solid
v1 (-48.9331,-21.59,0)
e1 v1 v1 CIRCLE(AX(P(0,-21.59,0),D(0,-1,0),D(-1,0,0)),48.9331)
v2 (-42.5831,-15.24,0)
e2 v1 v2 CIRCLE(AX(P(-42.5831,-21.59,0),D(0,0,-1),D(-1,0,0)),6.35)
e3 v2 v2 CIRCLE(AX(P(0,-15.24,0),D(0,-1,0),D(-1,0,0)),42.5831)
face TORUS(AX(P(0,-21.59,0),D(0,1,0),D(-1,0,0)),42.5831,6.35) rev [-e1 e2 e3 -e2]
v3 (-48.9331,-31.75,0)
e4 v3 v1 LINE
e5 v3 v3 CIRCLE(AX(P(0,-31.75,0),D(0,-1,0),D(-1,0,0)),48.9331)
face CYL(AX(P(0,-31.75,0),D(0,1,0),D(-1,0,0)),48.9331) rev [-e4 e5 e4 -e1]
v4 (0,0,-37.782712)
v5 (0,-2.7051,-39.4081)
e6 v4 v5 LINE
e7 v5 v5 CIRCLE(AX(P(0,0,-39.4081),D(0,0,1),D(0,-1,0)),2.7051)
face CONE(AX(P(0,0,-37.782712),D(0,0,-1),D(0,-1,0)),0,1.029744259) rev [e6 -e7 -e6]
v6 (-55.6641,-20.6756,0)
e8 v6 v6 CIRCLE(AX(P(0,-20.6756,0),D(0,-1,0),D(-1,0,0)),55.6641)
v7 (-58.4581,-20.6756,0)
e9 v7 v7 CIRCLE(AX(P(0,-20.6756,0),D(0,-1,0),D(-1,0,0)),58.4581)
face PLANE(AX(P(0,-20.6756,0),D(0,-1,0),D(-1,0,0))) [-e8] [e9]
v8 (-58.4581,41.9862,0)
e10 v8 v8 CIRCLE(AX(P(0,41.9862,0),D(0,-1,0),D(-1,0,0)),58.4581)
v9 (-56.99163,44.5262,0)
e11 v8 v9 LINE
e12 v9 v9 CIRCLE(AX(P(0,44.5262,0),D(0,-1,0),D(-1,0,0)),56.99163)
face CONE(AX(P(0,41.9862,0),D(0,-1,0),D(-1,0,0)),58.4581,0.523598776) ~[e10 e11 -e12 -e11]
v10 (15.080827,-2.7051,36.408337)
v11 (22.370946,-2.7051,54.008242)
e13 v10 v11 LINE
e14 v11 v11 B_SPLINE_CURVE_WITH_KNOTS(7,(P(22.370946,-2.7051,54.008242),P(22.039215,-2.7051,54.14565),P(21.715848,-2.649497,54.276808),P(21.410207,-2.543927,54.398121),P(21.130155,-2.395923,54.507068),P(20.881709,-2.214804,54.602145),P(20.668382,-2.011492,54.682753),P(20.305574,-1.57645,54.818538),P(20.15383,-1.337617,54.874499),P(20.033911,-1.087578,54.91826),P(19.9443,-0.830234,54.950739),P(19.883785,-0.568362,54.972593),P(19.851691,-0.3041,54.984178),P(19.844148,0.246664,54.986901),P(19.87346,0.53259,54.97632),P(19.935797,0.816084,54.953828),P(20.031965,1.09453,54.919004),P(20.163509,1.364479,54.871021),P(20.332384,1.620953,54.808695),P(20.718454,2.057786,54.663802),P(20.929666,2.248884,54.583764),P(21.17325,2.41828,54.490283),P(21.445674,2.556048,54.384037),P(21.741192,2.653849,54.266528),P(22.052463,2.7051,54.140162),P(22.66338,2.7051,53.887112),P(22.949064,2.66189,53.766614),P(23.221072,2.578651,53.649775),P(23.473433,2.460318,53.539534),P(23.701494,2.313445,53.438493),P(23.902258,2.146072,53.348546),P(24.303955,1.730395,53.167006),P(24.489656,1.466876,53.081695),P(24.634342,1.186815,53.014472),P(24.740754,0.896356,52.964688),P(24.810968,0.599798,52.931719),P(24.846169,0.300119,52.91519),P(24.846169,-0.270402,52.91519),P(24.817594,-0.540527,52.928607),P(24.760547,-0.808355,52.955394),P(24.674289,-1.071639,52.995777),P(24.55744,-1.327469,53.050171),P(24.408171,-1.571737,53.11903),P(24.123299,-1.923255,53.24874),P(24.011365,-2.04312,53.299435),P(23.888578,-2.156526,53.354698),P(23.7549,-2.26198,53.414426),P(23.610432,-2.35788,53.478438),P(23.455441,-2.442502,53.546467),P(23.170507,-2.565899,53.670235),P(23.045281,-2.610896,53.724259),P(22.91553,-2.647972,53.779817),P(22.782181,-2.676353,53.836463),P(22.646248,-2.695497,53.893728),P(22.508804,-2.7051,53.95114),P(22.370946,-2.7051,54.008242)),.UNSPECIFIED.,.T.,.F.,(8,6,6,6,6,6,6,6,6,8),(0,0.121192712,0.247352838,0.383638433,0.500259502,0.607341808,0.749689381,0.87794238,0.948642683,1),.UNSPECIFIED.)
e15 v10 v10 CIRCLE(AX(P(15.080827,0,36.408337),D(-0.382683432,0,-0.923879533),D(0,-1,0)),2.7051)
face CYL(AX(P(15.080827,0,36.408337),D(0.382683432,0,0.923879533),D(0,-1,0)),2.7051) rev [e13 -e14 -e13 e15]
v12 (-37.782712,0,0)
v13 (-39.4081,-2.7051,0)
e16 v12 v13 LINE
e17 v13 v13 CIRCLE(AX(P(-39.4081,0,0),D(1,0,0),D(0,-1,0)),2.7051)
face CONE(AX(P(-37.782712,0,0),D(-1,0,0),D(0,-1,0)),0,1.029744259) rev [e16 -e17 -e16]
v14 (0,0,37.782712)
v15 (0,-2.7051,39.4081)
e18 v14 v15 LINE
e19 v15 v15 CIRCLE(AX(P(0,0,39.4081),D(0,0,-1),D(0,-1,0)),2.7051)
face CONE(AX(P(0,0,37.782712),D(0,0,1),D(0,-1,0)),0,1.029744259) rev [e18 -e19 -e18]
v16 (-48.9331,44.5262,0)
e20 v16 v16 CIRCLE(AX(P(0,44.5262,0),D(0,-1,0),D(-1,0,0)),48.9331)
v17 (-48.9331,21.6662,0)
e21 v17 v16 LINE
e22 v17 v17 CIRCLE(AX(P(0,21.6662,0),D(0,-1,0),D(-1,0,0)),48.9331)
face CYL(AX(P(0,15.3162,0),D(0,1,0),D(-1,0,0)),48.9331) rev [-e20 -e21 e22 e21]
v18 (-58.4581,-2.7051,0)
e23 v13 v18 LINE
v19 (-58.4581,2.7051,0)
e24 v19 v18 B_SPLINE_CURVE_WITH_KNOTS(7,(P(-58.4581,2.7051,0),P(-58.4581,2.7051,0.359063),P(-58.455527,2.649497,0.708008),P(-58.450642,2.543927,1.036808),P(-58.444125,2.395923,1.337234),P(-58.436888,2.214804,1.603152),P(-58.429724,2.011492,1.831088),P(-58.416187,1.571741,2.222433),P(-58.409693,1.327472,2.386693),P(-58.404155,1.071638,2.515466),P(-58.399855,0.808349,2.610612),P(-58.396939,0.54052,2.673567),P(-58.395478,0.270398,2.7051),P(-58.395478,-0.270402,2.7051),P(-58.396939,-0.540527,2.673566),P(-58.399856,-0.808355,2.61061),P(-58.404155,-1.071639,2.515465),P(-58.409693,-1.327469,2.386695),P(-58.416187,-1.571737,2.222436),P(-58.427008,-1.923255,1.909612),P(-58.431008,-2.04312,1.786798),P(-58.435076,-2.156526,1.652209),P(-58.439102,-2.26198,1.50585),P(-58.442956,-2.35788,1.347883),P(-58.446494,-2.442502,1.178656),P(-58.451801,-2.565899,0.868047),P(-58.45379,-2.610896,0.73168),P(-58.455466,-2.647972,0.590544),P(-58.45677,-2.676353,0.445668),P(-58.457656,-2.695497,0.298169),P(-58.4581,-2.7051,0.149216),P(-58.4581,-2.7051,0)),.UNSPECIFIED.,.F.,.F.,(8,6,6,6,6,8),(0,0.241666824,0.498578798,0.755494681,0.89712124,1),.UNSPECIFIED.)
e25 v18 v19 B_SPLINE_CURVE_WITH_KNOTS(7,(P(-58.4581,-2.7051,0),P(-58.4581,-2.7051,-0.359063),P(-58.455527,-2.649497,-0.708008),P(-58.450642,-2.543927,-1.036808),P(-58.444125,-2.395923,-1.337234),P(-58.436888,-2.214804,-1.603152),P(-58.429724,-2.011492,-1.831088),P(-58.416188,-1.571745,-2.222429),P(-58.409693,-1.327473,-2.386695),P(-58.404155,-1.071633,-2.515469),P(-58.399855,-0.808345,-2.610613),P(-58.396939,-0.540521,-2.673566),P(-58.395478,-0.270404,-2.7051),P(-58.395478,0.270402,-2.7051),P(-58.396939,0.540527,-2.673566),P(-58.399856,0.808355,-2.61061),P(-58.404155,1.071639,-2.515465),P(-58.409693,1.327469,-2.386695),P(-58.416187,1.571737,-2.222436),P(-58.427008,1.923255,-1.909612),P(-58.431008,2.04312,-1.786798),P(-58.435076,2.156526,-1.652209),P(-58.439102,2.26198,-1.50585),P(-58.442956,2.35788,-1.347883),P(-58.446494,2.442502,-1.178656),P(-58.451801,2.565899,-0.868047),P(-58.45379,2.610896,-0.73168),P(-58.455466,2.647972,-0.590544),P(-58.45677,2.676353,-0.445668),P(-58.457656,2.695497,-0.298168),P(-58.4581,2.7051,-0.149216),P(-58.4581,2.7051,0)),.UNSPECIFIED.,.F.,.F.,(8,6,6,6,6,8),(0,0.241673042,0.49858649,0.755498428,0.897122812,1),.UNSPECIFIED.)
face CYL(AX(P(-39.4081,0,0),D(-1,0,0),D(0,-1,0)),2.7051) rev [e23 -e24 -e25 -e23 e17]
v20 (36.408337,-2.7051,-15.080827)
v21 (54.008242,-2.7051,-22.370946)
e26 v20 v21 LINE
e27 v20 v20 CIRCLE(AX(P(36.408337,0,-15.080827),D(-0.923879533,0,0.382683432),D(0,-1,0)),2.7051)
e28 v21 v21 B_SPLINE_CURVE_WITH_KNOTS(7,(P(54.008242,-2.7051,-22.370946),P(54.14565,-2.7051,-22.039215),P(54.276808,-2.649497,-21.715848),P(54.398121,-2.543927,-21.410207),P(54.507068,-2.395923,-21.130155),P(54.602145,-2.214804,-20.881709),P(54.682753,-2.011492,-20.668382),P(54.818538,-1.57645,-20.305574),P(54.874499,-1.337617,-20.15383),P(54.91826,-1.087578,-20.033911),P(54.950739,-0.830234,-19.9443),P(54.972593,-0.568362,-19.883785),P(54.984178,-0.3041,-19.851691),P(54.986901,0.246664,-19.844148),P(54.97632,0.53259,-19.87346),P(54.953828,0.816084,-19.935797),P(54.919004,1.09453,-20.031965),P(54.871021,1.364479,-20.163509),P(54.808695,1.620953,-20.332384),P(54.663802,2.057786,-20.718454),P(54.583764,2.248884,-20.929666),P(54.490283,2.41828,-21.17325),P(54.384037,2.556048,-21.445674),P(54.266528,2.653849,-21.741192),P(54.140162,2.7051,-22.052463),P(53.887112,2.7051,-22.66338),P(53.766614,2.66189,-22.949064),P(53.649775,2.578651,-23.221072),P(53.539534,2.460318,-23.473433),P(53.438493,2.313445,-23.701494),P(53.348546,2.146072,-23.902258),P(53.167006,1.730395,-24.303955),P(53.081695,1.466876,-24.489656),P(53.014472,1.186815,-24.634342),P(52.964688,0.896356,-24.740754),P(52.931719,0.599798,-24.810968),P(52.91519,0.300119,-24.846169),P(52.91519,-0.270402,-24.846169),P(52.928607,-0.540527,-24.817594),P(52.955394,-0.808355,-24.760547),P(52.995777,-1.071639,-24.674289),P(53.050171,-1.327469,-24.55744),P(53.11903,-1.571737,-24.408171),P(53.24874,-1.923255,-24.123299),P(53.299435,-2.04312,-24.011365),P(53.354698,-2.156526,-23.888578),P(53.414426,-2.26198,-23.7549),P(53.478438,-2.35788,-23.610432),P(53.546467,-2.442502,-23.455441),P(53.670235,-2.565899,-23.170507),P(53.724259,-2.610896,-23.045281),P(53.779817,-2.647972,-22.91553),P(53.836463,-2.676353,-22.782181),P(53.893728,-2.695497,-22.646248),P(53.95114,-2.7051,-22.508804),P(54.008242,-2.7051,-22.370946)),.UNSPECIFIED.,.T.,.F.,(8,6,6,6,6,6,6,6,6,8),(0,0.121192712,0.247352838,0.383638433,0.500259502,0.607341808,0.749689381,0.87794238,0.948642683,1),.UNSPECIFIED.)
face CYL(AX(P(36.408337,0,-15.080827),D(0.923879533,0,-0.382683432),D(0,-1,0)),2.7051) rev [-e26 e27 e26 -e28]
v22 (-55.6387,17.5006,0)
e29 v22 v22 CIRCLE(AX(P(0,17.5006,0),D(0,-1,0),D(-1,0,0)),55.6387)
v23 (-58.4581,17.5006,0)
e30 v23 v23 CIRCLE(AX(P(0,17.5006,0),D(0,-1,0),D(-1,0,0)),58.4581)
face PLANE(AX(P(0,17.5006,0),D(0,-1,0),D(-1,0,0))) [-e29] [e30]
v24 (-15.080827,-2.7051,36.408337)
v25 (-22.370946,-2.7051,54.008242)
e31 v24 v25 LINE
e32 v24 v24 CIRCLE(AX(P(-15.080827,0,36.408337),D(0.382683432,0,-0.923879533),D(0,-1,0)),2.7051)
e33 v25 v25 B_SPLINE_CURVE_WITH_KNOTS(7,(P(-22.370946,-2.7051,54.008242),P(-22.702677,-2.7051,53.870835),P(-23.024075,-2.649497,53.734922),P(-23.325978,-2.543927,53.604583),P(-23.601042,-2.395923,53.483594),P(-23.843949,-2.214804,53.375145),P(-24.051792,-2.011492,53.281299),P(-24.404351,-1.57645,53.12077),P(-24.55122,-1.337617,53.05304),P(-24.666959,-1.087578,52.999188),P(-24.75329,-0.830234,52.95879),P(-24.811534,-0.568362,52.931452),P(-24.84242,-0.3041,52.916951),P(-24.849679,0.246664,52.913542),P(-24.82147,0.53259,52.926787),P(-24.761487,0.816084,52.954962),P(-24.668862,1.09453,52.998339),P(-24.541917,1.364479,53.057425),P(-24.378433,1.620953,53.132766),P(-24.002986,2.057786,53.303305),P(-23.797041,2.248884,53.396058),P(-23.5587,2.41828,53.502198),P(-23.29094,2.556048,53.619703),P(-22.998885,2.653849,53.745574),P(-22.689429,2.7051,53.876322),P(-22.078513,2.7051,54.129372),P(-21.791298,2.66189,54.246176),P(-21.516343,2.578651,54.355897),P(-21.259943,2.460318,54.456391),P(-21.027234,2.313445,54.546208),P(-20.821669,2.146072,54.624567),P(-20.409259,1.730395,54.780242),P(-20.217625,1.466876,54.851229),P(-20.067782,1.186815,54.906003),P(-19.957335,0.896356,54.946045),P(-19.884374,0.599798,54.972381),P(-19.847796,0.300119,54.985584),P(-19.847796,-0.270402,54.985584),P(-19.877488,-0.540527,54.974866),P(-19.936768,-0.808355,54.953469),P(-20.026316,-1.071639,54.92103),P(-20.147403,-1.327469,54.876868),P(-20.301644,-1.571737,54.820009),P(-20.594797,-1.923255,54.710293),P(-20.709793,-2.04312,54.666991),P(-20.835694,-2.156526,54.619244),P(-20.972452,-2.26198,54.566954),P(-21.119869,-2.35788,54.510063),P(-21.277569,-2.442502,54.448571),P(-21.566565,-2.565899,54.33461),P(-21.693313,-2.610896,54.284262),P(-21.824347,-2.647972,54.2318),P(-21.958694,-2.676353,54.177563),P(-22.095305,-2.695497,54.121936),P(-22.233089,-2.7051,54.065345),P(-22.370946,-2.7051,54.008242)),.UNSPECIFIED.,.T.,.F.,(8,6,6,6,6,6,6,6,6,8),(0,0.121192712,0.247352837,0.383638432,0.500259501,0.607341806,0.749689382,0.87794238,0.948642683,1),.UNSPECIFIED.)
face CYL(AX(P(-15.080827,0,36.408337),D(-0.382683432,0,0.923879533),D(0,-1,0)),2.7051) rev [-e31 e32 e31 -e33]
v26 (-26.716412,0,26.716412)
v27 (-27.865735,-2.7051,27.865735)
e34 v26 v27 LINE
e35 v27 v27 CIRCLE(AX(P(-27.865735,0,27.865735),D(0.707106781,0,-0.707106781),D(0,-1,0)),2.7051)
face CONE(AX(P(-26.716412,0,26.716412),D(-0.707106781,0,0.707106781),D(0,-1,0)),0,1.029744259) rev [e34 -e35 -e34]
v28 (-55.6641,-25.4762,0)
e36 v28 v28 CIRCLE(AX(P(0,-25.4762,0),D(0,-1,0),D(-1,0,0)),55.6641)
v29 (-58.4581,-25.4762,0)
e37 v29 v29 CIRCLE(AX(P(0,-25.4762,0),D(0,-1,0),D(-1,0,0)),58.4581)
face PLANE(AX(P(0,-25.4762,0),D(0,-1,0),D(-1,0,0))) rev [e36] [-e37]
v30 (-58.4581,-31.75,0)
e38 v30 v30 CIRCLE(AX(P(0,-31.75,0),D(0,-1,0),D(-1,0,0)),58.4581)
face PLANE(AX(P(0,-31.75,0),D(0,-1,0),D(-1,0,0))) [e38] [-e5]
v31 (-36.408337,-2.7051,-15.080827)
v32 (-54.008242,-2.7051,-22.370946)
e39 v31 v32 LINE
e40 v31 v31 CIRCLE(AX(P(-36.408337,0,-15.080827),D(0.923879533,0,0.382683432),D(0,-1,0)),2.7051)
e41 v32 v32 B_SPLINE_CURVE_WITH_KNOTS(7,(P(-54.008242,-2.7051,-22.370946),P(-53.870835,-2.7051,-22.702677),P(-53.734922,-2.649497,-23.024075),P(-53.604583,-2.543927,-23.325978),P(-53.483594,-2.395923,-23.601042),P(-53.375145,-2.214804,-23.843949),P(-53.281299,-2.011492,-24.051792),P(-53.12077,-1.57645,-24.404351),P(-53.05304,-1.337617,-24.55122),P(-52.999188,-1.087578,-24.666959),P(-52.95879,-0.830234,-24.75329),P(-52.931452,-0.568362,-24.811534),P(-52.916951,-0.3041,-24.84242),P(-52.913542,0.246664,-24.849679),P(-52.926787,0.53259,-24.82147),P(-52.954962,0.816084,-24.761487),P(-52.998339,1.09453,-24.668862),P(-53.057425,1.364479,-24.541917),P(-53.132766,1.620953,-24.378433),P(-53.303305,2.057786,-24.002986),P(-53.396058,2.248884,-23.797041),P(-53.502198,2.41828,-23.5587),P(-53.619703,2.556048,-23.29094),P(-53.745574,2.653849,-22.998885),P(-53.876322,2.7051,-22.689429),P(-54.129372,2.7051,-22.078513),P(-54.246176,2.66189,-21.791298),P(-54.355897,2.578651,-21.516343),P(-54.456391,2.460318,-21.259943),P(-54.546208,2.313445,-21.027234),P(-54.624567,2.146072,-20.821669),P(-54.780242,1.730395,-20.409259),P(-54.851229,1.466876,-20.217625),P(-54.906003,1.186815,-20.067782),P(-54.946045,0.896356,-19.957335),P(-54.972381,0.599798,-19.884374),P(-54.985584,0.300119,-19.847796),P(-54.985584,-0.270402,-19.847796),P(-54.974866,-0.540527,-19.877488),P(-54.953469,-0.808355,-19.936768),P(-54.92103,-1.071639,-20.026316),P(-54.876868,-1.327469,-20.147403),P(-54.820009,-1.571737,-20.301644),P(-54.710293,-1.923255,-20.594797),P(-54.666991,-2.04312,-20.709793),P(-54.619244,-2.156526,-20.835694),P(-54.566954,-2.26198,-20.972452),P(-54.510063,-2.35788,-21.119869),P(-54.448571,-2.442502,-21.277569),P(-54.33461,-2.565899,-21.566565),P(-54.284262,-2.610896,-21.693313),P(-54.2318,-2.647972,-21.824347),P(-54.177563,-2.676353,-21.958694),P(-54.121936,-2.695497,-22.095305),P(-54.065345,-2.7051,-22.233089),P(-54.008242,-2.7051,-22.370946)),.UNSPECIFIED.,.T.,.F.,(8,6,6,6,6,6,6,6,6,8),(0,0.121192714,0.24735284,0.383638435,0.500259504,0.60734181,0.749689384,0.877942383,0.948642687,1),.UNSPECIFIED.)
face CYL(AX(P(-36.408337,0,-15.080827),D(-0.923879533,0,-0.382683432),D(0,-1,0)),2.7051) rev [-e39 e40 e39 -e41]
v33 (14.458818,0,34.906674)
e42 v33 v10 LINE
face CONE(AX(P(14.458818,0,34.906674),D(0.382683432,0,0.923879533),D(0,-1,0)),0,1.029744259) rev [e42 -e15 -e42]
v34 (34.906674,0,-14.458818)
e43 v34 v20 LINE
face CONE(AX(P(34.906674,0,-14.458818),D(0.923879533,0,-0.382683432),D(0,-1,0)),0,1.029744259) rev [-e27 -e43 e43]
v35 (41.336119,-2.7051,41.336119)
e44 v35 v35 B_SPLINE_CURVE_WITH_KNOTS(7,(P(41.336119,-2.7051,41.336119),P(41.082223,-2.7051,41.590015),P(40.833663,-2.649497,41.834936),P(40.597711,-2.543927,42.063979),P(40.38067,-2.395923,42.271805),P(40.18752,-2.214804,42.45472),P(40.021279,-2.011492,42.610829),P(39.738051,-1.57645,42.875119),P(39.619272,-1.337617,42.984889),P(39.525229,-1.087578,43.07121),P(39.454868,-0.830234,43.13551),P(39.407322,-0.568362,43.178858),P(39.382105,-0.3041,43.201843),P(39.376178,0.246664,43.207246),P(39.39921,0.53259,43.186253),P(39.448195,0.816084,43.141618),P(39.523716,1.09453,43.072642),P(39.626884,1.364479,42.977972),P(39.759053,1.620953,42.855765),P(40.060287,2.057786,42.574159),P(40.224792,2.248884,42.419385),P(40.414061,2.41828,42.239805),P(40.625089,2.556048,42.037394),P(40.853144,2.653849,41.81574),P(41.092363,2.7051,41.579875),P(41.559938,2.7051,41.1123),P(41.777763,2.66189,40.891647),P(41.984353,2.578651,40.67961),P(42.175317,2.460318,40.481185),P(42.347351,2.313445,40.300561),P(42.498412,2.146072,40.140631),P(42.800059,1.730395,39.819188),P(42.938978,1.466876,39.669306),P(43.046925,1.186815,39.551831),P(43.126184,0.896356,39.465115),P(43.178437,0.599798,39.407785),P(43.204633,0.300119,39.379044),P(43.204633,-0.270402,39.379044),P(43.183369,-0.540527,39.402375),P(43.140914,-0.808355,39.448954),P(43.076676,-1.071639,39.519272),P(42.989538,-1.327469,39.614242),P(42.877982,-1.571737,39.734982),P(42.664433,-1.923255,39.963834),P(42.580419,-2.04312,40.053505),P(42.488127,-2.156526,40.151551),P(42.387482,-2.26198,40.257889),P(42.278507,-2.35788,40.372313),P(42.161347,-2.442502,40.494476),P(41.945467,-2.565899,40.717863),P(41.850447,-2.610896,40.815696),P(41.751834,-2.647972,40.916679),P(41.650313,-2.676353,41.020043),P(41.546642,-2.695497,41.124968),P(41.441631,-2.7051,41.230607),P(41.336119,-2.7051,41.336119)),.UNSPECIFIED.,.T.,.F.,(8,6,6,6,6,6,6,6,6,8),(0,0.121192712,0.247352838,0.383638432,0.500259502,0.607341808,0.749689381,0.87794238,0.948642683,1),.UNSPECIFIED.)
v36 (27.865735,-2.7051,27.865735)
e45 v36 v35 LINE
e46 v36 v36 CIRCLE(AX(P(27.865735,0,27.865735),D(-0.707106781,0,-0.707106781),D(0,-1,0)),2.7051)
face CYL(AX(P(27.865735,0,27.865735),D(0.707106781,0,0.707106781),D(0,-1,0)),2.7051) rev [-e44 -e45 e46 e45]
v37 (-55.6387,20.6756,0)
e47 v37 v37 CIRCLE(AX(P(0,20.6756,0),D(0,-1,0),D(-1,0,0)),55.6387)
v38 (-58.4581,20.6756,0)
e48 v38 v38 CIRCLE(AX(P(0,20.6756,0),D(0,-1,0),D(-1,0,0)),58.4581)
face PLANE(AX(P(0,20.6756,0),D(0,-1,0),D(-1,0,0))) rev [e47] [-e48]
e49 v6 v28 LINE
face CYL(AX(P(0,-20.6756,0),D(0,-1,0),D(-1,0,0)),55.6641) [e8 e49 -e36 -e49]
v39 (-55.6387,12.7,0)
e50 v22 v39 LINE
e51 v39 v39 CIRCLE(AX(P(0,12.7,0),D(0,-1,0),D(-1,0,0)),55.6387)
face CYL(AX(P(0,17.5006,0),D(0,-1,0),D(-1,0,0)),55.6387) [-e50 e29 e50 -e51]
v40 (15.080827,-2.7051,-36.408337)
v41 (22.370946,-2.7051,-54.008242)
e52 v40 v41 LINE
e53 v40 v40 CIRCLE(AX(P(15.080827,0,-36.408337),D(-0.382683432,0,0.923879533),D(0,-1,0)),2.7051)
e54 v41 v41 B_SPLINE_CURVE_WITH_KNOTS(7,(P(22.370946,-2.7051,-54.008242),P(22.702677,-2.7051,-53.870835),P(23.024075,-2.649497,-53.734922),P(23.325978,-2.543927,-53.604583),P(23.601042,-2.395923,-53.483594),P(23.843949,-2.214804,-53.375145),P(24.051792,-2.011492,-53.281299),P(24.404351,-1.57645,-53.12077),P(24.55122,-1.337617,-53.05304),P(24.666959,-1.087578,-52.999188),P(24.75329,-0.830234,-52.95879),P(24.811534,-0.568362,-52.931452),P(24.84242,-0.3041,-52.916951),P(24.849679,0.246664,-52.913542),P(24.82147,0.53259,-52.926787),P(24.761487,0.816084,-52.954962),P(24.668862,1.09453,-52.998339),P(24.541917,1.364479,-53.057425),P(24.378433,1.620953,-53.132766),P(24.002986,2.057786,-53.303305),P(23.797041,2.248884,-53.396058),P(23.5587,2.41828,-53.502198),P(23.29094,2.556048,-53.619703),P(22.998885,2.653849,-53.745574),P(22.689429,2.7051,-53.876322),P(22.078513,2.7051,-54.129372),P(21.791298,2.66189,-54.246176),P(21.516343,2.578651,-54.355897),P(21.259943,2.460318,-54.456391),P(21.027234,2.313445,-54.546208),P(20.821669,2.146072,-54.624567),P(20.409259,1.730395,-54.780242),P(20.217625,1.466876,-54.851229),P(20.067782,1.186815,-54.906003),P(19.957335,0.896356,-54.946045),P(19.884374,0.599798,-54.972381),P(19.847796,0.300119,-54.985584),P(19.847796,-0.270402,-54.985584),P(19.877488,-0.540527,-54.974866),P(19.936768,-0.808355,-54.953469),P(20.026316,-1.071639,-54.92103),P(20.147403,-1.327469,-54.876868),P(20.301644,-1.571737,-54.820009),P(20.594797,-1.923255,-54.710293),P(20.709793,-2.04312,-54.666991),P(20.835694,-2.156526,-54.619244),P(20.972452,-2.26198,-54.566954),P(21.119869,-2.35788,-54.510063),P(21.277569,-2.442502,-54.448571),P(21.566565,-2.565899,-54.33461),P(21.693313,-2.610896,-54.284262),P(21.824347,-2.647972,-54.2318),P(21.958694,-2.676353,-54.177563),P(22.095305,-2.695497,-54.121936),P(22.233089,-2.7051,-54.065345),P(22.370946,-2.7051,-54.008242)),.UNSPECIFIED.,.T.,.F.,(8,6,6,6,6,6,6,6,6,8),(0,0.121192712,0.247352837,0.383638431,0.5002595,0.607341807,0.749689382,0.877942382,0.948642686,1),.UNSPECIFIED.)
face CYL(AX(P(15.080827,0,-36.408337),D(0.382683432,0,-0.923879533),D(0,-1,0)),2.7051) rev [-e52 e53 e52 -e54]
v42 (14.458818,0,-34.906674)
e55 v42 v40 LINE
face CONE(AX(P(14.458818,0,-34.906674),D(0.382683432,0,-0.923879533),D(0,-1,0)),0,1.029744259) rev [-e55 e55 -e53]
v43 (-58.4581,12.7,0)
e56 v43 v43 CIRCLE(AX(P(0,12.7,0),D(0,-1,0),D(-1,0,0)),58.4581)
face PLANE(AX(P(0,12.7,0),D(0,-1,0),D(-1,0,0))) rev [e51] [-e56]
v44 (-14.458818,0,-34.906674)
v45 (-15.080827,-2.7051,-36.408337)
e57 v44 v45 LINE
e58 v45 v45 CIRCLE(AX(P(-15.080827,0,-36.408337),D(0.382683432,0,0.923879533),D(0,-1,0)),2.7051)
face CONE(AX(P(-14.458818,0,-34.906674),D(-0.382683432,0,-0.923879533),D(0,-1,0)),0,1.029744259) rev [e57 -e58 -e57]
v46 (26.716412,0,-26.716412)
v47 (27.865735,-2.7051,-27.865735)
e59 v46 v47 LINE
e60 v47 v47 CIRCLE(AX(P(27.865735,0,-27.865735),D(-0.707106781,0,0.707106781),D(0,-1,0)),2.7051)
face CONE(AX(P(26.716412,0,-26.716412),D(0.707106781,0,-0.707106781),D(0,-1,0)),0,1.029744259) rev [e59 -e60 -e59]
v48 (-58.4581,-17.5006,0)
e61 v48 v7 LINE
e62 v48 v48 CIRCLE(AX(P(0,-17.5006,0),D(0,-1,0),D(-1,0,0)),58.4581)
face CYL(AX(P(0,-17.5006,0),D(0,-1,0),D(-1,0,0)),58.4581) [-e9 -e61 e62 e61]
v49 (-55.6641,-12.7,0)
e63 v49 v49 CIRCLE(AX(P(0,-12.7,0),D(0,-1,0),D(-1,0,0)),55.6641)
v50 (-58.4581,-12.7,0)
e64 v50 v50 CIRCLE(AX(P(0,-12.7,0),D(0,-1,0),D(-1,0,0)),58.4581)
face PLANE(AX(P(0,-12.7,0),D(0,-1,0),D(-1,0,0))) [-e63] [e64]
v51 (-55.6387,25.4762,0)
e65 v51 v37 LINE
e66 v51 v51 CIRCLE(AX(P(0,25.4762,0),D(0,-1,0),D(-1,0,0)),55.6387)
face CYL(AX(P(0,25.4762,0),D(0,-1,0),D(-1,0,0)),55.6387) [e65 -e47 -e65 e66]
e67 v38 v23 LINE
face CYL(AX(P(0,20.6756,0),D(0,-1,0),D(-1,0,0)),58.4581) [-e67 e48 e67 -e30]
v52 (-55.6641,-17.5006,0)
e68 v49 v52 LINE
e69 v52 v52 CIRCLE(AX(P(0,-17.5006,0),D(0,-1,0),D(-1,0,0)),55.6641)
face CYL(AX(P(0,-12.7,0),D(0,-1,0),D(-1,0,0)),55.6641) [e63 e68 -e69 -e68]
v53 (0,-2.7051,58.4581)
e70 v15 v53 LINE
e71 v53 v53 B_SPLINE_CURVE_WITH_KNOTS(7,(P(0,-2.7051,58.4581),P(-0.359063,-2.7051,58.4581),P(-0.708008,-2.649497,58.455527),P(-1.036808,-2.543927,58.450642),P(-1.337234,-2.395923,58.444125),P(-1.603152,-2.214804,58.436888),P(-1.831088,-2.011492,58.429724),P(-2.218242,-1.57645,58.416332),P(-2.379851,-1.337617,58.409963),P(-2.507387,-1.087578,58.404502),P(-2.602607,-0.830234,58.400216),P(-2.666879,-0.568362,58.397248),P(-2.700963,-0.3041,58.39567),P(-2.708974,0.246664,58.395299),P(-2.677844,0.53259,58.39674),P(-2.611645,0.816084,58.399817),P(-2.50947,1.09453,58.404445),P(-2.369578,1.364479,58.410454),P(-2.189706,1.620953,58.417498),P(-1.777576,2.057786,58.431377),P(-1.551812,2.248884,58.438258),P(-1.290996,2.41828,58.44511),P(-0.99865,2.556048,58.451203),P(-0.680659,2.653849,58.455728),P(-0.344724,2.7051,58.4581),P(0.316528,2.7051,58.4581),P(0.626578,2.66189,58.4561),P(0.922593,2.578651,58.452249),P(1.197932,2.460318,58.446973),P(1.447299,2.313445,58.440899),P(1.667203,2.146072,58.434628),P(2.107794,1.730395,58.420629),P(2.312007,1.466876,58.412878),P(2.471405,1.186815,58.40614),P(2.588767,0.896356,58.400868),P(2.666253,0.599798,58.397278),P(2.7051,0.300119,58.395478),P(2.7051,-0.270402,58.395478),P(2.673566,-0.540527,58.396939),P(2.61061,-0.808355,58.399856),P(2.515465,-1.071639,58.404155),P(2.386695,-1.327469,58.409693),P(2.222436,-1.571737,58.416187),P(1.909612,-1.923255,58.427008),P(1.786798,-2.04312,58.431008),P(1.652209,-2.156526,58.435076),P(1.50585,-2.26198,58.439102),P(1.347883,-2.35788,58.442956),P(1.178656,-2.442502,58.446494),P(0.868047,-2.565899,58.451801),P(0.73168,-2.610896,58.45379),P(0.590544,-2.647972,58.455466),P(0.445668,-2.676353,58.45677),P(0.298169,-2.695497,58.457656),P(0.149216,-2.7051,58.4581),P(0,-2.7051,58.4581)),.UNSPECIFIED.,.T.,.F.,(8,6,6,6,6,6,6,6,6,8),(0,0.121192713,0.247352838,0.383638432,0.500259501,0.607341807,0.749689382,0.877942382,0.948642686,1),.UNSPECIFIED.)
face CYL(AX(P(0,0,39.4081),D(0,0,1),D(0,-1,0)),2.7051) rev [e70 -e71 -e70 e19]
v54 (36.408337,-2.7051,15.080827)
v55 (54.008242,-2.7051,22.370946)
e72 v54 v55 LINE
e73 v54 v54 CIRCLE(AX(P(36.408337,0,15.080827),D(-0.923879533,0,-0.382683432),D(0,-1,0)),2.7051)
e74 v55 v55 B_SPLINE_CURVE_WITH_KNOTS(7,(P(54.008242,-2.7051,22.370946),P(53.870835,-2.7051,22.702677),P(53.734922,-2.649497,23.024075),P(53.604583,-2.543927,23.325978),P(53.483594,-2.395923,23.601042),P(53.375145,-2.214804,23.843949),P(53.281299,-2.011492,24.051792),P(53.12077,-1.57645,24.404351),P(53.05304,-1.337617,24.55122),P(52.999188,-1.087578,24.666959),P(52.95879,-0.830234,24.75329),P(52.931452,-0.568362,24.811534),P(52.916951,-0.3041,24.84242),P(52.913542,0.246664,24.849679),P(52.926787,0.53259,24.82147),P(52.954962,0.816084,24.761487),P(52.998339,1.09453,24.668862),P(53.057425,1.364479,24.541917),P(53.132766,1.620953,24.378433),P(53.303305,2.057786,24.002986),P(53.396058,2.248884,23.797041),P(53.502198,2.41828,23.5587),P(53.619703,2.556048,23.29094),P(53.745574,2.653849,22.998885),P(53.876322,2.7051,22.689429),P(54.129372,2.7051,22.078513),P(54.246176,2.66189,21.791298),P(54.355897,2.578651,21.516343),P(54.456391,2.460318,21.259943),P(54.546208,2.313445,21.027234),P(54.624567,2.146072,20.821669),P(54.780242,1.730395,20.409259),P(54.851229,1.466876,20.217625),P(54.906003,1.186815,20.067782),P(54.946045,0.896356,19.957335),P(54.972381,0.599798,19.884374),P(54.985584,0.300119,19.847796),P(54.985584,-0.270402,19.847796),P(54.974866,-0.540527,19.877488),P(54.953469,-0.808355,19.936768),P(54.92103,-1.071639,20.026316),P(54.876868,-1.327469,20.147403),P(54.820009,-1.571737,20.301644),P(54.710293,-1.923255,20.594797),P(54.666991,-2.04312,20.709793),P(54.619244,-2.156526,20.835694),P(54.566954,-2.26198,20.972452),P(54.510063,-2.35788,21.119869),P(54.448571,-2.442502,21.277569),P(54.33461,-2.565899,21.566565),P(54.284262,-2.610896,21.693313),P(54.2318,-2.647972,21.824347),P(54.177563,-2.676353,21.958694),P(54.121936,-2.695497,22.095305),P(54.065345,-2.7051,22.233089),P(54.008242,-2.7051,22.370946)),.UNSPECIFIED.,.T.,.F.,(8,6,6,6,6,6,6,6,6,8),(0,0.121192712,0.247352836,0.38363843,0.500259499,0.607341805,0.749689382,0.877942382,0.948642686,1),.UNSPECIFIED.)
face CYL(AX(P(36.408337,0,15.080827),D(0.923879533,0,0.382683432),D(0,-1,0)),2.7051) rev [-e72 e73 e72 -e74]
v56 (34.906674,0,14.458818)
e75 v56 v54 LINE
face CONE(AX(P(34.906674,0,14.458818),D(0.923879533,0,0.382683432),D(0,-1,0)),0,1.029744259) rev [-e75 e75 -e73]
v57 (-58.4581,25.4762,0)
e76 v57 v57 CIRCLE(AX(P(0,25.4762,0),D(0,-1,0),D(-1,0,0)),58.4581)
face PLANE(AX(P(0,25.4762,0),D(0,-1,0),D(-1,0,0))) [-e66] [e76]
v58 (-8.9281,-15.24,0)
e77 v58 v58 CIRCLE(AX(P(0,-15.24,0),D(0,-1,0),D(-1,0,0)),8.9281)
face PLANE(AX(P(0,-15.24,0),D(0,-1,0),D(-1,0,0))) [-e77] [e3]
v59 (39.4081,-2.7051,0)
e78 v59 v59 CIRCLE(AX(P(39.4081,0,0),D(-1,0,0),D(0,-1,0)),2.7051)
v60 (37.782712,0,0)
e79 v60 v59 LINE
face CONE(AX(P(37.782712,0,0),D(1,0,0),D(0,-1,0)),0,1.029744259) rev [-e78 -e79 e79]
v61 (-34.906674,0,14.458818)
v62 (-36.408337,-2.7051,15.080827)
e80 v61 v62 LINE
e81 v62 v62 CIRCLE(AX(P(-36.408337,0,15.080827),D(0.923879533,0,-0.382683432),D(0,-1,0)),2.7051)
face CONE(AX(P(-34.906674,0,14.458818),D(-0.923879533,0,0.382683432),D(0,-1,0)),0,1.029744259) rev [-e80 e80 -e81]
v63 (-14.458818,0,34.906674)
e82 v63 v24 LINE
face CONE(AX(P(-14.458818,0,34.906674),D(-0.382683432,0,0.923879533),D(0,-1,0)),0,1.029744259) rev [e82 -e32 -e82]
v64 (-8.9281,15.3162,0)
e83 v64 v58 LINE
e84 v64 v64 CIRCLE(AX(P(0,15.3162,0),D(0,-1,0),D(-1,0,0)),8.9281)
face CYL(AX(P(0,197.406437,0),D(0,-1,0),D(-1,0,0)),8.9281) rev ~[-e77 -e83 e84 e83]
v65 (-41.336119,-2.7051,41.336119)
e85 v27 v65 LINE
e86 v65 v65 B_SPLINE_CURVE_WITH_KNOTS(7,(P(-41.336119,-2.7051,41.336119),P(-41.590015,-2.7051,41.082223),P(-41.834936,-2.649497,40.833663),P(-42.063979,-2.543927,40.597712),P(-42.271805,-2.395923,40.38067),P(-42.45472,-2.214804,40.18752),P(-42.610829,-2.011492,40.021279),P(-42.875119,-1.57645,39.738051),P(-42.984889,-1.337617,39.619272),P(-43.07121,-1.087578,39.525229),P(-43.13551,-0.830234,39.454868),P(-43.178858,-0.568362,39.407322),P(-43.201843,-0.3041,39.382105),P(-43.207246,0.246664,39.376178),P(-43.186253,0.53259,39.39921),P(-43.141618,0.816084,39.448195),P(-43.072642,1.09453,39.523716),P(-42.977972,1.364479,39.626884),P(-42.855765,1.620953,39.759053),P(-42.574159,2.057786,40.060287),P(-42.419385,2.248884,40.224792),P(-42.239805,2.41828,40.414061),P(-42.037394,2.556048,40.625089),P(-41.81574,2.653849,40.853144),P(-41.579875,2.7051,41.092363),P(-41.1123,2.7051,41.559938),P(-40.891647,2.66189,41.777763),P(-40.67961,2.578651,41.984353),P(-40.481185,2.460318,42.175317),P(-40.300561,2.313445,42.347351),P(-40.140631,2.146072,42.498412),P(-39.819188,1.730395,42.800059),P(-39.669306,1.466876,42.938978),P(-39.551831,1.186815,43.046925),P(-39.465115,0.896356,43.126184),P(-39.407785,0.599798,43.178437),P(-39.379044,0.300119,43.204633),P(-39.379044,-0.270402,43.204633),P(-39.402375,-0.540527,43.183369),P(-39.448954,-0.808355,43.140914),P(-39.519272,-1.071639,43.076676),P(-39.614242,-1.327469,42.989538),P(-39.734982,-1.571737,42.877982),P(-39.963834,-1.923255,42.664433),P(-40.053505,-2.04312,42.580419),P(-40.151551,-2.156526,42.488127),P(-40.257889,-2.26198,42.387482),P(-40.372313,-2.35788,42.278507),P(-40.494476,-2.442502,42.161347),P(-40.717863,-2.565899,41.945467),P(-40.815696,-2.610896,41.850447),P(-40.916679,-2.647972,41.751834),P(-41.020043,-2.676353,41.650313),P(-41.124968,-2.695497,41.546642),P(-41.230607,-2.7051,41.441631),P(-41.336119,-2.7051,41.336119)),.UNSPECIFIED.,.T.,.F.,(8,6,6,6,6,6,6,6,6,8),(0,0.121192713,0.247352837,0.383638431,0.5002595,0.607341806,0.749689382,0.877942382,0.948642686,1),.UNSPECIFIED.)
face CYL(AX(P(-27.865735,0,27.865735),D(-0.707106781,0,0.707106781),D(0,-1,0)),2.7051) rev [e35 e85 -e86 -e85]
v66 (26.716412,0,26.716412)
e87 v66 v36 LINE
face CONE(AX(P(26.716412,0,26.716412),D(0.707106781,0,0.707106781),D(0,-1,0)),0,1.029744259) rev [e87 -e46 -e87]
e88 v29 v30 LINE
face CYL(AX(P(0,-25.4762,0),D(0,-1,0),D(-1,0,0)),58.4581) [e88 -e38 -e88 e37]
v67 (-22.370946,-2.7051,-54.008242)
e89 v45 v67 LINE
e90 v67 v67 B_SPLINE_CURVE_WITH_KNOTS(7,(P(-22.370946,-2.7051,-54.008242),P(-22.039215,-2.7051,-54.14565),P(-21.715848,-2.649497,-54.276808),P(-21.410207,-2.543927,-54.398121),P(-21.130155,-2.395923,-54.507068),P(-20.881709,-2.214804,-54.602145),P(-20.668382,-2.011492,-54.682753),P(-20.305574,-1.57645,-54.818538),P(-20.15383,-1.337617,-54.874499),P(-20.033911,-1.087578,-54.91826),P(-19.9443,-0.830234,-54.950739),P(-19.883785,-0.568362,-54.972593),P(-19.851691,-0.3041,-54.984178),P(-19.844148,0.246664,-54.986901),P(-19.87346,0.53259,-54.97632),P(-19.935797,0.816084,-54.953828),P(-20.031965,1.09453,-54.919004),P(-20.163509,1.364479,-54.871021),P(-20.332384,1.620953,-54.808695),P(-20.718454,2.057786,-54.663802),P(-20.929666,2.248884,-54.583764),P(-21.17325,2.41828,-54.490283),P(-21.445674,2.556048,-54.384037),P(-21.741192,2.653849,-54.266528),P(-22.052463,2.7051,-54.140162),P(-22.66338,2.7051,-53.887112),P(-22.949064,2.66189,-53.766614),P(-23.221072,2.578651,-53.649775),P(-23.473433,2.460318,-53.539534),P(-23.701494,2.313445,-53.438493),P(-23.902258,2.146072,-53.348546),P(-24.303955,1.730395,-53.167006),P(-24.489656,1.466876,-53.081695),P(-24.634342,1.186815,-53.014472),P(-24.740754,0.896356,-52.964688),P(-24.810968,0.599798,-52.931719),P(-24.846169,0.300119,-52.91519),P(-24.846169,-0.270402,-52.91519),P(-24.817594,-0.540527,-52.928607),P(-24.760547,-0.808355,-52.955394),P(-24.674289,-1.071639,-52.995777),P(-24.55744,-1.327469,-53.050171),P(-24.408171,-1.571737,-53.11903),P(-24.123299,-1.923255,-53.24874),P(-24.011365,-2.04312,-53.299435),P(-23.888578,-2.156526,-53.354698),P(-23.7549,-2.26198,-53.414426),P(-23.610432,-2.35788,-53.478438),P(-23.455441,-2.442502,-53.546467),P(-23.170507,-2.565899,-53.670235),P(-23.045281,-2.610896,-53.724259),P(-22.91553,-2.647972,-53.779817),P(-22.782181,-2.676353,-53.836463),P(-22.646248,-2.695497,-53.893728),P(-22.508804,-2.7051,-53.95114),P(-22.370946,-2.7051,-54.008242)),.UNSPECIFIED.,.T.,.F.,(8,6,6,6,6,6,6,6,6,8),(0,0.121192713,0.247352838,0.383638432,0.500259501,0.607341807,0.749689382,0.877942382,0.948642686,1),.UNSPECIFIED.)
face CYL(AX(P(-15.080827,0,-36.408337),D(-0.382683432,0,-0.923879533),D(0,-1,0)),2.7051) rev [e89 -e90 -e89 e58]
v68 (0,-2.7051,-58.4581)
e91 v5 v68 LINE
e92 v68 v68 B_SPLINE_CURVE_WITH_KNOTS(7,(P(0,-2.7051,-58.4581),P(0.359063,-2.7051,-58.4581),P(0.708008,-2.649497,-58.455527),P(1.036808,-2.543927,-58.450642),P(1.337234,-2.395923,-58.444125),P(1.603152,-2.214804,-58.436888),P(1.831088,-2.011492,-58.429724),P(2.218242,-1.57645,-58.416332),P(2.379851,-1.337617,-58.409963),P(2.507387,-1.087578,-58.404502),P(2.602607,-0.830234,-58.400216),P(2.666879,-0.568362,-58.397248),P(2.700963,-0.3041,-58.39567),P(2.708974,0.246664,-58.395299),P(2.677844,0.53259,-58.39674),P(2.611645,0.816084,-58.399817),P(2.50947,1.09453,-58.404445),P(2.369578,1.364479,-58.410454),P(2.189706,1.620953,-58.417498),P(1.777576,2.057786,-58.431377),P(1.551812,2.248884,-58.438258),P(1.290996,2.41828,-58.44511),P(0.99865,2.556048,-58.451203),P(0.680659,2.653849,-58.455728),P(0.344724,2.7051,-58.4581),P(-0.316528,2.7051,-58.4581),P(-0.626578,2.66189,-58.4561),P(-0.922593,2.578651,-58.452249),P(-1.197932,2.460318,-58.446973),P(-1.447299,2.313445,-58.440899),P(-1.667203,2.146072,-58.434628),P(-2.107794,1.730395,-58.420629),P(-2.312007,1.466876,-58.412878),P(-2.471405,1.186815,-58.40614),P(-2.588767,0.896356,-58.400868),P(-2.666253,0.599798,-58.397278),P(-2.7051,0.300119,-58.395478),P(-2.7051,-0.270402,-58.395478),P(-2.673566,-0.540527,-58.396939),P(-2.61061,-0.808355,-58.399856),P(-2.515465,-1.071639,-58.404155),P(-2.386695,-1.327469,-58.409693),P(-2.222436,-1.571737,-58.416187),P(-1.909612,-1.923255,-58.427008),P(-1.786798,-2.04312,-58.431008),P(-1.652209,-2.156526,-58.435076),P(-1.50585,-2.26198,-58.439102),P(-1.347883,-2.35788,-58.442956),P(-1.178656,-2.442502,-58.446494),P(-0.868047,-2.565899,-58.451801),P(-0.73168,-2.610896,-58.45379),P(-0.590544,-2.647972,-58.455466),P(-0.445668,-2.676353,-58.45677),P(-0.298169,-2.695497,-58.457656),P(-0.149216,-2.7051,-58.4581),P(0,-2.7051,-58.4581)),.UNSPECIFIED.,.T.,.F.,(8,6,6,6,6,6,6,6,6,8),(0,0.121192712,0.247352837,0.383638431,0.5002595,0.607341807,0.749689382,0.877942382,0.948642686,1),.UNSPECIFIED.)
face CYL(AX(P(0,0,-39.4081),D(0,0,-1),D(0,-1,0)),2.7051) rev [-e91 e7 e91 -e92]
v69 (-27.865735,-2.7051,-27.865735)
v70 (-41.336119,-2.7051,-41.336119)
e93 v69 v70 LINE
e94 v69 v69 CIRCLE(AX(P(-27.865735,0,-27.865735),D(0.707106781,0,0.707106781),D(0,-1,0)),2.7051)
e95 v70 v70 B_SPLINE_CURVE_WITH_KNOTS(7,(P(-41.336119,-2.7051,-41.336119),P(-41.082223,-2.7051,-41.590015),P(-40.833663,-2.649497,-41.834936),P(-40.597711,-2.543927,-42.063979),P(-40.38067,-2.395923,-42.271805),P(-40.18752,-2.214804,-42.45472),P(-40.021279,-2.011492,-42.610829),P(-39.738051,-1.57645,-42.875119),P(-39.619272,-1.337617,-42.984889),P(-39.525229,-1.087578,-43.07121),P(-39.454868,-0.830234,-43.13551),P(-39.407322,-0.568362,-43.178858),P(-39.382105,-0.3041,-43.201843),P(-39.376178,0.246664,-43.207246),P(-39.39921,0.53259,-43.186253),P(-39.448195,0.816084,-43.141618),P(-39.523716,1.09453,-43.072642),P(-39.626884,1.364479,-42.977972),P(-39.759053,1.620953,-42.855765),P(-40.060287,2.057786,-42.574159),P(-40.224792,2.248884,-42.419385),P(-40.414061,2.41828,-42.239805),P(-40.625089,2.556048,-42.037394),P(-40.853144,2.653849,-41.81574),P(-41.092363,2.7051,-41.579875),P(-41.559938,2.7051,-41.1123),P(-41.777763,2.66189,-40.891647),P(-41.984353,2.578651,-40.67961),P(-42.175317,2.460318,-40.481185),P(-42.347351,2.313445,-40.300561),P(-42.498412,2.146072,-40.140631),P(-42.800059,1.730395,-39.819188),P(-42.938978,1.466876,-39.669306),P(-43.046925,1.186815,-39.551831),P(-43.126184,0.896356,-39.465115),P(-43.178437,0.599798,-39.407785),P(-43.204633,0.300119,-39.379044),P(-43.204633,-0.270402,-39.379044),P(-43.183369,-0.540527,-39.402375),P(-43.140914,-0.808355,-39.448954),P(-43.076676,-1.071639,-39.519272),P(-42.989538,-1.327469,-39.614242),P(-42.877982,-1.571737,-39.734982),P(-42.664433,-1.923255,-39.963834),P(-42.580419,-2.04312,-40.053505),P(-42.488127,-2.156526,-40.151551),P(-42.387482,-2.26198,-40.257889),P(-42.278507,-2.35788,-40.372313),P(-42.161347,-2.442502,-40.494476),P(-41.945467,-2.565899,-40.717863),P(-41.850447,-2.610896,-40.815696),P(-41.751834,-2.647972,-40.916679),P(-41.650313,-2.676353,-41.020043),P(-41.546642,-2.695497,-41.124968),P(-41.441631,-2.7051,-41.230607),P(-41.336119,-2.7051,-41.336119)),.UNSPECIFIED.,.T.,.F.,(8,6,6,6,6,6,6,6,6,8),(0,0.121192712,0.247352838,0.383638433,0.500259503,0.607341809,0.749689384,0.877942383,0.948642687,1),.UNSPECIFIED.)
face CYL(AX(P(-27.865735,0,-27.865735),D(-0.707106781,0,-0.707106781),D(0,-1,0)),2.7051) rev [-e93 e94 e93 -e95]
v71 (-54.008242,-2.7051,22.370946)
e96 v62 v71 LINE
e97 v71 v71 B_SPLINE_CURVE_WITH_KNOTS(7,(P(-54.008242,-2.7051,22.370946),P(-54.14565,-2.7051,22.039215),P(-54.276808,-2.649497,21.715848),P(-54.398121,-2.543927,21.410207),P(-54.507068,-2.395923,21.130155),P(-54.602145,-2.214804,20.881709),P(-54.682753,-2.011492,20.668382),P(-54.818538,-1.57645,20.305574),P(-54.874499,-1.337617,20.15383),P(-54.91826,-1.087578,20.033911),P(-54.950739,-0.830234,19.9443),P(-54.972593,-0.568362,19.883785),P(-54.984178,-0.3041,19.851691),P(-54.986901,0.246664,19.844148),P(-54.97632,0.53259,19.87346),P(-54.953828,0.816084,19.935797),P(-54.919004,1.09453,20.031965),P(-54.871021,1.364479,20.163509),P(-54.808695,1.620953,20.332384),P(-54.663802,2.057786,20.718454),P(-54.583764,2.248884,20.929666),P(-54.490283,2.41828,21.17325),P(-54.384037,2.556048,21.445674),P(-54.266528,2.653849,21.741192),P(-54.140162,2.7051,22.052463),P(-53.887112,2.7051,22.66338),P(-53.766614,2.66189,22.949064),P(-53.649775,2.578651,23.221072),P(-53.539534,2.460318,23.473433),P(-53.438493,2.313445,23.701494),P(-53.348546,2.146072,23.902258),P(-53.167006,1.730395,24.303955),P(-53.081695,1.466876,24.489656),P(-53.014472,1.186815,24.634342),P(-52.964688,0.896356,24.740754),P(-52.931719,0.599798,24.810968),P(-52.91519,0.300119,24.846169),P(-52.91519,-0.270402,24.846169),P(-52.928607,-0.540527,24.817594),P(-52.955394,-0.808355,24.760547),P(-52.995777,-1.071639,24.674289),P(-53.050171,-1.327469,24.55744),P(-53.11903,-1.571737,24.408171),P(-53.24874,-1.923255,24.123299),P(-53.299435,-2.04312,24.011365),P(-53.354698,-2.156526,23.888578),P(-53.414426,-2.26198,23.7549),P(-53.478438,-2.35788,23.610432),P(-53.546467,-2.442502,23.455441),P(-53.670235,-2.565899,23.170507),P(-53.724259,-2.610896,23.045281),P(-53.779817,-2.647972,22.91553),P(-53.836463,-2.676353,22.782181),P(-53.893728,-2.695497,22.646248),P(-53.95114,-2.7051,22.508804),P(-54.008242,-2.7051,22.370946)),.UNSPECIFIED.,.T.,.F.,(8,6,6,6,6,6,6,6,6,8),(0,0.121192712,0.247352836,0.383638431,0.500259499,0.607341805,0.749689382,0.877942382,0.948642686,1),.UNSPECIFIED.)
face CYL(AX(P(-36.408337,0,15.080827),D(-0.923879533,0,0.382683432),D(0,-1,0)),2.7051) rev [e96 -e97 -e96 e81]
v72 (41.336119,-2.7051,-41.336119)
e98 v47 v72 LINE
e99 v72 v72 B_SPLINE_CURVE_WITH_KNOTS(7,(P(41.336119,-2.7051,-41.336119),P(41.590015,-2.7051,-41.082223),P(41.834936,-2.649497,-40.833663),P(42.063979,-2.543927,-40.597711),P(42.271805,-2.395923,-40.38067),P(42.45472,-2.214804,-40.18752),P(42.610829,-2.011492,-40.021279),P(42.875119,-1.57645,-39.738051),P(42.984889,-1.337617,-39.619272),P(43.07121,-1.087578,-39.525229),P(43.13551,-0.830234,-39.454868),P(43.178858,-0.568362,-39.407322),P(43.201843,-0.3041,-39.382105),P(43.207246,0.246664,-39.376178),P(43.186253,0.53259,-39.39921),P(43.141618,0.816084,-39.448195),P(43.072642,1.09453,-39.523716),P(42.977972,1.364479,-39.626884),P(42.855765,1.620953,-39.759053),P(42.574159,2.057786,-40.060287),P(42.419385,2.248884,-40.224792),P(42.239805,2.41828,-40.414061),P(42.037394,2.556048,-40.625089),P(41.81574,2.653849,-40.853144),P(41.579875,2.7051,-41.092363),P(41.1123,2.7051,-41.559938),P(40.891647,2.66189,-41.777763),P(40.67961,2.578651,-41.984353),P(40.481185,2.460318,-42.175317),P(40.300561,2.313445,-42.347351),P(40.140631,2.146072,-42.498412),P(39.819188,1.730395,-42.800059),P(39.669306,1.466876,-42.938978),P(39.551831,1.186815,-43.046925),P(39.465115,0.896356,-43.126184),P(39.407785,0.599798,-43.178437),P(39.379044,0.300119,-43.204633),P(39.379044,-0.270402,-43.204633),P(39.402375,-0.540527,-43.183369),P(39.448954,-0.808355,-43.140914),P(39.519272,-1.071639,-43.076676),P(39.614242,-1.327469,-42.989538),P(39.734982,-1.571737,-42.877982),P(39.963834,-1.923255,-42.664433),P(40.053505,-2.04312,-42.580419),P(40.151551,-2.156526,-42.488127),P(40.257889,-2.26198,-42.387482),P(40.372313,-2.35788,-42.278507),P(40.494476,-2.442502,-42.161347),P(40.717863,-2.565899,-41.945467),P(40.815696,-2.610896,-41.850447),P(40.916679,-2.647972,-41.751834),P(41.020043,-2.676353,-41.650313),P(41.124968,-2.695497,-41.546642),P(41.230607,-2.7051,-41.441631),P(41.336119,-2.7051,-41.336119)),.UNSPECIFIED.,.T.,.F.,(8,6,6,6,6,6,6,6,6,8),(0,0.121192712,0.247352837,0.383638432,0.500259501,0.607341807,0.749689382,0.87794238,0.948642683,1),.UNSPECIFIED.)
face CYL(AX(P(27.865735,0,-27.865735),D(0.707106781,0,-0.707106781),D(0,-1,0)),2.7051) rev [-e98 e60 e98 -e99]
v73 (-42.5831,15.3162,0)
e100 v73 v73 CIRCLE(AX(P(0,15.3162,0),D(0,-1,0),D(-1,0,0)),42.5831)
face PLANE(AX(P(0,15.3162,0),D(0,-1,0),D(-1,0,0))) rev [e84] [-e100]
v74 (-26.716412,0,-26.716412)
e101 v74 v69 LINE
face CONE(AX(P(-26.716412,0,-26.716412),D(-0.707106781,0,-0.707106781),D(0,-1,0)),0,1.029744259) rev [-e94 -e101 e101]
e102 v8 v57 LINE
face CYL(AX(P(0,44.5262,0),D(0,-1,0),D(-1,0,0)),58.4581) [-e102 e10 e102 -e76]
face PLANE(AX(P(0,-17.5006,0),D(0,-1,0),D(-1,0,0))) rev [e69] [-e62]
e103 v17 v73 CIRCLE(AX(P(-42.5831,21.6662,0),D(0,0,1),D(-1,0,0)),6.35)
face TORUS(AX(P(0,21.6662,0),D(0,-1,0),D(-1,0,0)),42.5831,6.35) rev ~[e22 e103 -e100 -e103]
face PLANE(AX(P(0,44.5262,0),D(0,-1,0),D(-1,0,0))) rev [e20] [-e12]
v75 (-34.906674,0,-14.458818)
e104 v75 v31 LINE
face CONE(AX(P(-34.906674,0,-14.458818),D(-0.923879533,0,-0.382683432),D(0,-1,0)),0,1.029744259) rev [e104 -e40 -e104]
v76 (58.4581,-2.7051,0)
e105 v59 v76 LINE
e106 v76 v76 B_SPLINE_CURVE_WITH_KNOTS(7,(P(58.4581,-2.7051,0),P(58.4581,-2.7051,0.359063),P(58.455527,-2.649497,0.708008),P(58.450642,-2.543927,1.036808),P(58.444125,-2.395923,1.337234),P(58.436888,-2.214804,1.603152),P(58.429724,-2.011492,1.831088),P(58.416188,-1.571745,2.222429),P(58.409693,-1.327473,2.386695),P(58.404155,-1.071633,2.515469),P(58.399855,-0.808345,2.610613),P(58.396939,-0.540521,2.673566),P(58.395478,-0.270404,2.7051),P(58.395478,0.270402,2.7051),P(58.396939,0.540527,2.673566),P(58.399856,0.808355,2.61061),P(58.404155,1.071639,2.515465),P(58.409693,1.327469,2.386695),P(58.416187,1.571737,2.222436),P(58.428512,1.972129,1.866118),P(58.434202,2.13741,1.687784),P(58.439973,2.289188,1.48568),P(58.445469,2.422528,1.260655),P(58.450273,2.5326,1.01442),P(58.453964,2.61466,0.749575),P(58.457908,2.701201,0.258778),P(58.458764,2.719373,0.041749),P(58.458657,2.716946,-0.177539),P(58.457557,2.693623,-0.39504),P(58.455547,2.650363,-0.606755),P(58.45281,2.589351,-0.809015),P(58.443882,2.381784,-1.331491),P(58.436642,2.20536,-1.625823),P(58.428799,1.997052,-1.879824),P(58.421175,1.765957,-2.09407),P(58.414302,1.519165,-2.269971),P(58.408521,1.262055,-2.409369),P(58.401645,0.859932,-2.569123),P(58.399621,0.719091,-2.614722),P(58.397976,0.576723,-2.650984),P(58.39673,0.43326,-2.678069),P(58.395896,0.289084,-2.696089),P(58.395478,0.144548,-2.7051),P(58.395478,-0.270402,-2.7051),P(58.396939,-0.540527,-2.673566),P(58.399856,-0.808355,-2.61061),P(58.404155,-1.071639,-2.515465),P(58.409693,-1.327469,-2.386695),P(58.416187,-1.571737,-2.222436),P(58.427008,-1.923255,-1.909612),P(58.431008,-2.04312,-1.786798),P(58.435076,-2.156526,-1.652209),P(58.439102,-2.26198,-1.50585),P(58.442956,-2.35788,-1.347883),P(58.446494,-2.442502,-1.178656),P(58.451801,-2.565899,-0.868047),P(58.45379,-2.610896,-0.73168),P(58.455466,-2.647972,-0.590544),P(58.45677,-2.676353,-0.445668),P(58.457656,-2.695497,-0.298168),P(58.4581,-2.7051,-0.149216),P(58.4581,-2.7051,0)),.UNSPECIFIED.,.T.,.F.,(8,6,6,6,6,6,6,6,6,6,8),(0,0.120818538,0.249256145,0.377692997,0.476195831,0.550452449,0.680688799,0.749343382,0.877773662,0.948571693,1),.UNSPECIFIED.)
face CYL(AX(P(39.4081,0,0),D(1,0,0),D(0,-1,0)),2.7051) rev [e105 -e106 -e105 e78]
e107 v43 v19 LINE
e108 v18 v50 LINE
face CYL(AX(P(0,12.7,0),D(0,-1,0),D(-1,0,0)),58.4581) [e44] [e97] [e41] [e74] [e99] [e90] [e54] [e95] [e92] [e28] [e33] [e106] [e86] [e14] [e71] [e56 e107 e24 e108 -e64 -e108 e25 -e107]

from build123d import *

# Parameters (mm, degrees)
HOLEPATTERN_COUNT             = 16
CHAMFER2_SIZE                 = 2.54
CHAMFER2_SIZE2                = 1.466469684
FILLET1_R                     = 6.35
PIPE_TAP_DRILL_FOR_1_2_TAP1_D = 17.8562


with BuildPart() as part:
    # Sketch1 → Revolve1 (revolve)
    with BuildSketch(Plane.XY):
        Polygon((0, -15.24), (0, 0), (-58.4581, 0), (-58.4581, -12.7), (-55.6641, -12.7), (-55.6641, -17.5006), (-58.4581, -17.5006), (-58.4581, -20.6756), (-55.6641, -20.6756), (-55.6641, -25.4762), (-58.4581, -25.4762), (-58.4581, -31.75), (-48.9331, -31.75), (-48.9331, -15.24), align=None)
        Polygon((-58.4581, 0), (0, 0), (0, 15.3162), (-48.9331, 15.3162), (-48.9331, 44.5262), (-58.4581, 44.5262), (-58.4581, 25.4762), (-55.6387, 25.4762), (-55.6387, 20.6756), (-58.4581, 20.6756), (-58.4581, 17.5006), (-55.6387, 17.5006), (-55.6387, 12.7), (-58.4581, 12.7), align=None)
    revolve(axis=Axis((0, 31.75, 0), (0, -1, 0)))

    # Sketch4 → Tap Drill for 1/4-28 Tap1 (revolve, cut)
    with BuildSketch(Plane(origin=(0, 0, 58.4581), x_dir=(0, -1, 0), z_dir=(1, 0, 0))):
        Polygon((0, 0), (0, 20.675388061), (2.7051, 19.05), (2.7051, 0), align=None)
    tap_drill_for_1_4_28_tap1 = revolve(axis=Axis((0, 0, 64.8081), (0, 0, -1)), mode=Mode.SUBTRACT)

    # HolePattern: Tap Drill for 1/4-28 Tap1 ×16 about axis
    holepattern_axis = Axis((0, -12.7, 0), (0, 1, 0))
    for i in range(1, HOLEPATTERN_COUNT):
        add(tap_drill_for_1_4_28_tap1.rotate(holepattern_axis, i * 360 / HOLEPATTERN_COUNT), mode=Mode.SUBTRACT)

    # Chamfer2
    chamfer2_edges = [part.edges().sort_by_distance(p)[0] for p in [
        (58.4581, 44.5262, 0),
    ]]
    chamfer2_side = [part.faces().sort_by_distance(p)[0] for p in [
        (58.4581, 35.0012, 0),
    ]]
    chamfer(chamfer2_edges, length=CHAMFER2_SIZE, length2=CHAMFER2_SIZE2, reference=chamfer2_side[0])

    # Fillet1
    fillet1_edges = [part.edges().sort_by_distance(p)[0] for p in [
        (48.9331, 15.3162, 0),
        (48.9331, -15.24, 0),
    ]]
    fillet(fillet1_edges, radius=FILLET1_R)

    # Pipe Tap Drill for 1/2 Tap1 (through all)
    with Locations(Plane(origin=(0, 15.3162, 0), x_dir=(1, 0, 0), z_dir=(0, 1, 0))):
        with Locations((0, 0)):
            Hole(PIPE_TAP_DRILL_FOR_1_2_TAP1_D / 2)


solid = part.part
